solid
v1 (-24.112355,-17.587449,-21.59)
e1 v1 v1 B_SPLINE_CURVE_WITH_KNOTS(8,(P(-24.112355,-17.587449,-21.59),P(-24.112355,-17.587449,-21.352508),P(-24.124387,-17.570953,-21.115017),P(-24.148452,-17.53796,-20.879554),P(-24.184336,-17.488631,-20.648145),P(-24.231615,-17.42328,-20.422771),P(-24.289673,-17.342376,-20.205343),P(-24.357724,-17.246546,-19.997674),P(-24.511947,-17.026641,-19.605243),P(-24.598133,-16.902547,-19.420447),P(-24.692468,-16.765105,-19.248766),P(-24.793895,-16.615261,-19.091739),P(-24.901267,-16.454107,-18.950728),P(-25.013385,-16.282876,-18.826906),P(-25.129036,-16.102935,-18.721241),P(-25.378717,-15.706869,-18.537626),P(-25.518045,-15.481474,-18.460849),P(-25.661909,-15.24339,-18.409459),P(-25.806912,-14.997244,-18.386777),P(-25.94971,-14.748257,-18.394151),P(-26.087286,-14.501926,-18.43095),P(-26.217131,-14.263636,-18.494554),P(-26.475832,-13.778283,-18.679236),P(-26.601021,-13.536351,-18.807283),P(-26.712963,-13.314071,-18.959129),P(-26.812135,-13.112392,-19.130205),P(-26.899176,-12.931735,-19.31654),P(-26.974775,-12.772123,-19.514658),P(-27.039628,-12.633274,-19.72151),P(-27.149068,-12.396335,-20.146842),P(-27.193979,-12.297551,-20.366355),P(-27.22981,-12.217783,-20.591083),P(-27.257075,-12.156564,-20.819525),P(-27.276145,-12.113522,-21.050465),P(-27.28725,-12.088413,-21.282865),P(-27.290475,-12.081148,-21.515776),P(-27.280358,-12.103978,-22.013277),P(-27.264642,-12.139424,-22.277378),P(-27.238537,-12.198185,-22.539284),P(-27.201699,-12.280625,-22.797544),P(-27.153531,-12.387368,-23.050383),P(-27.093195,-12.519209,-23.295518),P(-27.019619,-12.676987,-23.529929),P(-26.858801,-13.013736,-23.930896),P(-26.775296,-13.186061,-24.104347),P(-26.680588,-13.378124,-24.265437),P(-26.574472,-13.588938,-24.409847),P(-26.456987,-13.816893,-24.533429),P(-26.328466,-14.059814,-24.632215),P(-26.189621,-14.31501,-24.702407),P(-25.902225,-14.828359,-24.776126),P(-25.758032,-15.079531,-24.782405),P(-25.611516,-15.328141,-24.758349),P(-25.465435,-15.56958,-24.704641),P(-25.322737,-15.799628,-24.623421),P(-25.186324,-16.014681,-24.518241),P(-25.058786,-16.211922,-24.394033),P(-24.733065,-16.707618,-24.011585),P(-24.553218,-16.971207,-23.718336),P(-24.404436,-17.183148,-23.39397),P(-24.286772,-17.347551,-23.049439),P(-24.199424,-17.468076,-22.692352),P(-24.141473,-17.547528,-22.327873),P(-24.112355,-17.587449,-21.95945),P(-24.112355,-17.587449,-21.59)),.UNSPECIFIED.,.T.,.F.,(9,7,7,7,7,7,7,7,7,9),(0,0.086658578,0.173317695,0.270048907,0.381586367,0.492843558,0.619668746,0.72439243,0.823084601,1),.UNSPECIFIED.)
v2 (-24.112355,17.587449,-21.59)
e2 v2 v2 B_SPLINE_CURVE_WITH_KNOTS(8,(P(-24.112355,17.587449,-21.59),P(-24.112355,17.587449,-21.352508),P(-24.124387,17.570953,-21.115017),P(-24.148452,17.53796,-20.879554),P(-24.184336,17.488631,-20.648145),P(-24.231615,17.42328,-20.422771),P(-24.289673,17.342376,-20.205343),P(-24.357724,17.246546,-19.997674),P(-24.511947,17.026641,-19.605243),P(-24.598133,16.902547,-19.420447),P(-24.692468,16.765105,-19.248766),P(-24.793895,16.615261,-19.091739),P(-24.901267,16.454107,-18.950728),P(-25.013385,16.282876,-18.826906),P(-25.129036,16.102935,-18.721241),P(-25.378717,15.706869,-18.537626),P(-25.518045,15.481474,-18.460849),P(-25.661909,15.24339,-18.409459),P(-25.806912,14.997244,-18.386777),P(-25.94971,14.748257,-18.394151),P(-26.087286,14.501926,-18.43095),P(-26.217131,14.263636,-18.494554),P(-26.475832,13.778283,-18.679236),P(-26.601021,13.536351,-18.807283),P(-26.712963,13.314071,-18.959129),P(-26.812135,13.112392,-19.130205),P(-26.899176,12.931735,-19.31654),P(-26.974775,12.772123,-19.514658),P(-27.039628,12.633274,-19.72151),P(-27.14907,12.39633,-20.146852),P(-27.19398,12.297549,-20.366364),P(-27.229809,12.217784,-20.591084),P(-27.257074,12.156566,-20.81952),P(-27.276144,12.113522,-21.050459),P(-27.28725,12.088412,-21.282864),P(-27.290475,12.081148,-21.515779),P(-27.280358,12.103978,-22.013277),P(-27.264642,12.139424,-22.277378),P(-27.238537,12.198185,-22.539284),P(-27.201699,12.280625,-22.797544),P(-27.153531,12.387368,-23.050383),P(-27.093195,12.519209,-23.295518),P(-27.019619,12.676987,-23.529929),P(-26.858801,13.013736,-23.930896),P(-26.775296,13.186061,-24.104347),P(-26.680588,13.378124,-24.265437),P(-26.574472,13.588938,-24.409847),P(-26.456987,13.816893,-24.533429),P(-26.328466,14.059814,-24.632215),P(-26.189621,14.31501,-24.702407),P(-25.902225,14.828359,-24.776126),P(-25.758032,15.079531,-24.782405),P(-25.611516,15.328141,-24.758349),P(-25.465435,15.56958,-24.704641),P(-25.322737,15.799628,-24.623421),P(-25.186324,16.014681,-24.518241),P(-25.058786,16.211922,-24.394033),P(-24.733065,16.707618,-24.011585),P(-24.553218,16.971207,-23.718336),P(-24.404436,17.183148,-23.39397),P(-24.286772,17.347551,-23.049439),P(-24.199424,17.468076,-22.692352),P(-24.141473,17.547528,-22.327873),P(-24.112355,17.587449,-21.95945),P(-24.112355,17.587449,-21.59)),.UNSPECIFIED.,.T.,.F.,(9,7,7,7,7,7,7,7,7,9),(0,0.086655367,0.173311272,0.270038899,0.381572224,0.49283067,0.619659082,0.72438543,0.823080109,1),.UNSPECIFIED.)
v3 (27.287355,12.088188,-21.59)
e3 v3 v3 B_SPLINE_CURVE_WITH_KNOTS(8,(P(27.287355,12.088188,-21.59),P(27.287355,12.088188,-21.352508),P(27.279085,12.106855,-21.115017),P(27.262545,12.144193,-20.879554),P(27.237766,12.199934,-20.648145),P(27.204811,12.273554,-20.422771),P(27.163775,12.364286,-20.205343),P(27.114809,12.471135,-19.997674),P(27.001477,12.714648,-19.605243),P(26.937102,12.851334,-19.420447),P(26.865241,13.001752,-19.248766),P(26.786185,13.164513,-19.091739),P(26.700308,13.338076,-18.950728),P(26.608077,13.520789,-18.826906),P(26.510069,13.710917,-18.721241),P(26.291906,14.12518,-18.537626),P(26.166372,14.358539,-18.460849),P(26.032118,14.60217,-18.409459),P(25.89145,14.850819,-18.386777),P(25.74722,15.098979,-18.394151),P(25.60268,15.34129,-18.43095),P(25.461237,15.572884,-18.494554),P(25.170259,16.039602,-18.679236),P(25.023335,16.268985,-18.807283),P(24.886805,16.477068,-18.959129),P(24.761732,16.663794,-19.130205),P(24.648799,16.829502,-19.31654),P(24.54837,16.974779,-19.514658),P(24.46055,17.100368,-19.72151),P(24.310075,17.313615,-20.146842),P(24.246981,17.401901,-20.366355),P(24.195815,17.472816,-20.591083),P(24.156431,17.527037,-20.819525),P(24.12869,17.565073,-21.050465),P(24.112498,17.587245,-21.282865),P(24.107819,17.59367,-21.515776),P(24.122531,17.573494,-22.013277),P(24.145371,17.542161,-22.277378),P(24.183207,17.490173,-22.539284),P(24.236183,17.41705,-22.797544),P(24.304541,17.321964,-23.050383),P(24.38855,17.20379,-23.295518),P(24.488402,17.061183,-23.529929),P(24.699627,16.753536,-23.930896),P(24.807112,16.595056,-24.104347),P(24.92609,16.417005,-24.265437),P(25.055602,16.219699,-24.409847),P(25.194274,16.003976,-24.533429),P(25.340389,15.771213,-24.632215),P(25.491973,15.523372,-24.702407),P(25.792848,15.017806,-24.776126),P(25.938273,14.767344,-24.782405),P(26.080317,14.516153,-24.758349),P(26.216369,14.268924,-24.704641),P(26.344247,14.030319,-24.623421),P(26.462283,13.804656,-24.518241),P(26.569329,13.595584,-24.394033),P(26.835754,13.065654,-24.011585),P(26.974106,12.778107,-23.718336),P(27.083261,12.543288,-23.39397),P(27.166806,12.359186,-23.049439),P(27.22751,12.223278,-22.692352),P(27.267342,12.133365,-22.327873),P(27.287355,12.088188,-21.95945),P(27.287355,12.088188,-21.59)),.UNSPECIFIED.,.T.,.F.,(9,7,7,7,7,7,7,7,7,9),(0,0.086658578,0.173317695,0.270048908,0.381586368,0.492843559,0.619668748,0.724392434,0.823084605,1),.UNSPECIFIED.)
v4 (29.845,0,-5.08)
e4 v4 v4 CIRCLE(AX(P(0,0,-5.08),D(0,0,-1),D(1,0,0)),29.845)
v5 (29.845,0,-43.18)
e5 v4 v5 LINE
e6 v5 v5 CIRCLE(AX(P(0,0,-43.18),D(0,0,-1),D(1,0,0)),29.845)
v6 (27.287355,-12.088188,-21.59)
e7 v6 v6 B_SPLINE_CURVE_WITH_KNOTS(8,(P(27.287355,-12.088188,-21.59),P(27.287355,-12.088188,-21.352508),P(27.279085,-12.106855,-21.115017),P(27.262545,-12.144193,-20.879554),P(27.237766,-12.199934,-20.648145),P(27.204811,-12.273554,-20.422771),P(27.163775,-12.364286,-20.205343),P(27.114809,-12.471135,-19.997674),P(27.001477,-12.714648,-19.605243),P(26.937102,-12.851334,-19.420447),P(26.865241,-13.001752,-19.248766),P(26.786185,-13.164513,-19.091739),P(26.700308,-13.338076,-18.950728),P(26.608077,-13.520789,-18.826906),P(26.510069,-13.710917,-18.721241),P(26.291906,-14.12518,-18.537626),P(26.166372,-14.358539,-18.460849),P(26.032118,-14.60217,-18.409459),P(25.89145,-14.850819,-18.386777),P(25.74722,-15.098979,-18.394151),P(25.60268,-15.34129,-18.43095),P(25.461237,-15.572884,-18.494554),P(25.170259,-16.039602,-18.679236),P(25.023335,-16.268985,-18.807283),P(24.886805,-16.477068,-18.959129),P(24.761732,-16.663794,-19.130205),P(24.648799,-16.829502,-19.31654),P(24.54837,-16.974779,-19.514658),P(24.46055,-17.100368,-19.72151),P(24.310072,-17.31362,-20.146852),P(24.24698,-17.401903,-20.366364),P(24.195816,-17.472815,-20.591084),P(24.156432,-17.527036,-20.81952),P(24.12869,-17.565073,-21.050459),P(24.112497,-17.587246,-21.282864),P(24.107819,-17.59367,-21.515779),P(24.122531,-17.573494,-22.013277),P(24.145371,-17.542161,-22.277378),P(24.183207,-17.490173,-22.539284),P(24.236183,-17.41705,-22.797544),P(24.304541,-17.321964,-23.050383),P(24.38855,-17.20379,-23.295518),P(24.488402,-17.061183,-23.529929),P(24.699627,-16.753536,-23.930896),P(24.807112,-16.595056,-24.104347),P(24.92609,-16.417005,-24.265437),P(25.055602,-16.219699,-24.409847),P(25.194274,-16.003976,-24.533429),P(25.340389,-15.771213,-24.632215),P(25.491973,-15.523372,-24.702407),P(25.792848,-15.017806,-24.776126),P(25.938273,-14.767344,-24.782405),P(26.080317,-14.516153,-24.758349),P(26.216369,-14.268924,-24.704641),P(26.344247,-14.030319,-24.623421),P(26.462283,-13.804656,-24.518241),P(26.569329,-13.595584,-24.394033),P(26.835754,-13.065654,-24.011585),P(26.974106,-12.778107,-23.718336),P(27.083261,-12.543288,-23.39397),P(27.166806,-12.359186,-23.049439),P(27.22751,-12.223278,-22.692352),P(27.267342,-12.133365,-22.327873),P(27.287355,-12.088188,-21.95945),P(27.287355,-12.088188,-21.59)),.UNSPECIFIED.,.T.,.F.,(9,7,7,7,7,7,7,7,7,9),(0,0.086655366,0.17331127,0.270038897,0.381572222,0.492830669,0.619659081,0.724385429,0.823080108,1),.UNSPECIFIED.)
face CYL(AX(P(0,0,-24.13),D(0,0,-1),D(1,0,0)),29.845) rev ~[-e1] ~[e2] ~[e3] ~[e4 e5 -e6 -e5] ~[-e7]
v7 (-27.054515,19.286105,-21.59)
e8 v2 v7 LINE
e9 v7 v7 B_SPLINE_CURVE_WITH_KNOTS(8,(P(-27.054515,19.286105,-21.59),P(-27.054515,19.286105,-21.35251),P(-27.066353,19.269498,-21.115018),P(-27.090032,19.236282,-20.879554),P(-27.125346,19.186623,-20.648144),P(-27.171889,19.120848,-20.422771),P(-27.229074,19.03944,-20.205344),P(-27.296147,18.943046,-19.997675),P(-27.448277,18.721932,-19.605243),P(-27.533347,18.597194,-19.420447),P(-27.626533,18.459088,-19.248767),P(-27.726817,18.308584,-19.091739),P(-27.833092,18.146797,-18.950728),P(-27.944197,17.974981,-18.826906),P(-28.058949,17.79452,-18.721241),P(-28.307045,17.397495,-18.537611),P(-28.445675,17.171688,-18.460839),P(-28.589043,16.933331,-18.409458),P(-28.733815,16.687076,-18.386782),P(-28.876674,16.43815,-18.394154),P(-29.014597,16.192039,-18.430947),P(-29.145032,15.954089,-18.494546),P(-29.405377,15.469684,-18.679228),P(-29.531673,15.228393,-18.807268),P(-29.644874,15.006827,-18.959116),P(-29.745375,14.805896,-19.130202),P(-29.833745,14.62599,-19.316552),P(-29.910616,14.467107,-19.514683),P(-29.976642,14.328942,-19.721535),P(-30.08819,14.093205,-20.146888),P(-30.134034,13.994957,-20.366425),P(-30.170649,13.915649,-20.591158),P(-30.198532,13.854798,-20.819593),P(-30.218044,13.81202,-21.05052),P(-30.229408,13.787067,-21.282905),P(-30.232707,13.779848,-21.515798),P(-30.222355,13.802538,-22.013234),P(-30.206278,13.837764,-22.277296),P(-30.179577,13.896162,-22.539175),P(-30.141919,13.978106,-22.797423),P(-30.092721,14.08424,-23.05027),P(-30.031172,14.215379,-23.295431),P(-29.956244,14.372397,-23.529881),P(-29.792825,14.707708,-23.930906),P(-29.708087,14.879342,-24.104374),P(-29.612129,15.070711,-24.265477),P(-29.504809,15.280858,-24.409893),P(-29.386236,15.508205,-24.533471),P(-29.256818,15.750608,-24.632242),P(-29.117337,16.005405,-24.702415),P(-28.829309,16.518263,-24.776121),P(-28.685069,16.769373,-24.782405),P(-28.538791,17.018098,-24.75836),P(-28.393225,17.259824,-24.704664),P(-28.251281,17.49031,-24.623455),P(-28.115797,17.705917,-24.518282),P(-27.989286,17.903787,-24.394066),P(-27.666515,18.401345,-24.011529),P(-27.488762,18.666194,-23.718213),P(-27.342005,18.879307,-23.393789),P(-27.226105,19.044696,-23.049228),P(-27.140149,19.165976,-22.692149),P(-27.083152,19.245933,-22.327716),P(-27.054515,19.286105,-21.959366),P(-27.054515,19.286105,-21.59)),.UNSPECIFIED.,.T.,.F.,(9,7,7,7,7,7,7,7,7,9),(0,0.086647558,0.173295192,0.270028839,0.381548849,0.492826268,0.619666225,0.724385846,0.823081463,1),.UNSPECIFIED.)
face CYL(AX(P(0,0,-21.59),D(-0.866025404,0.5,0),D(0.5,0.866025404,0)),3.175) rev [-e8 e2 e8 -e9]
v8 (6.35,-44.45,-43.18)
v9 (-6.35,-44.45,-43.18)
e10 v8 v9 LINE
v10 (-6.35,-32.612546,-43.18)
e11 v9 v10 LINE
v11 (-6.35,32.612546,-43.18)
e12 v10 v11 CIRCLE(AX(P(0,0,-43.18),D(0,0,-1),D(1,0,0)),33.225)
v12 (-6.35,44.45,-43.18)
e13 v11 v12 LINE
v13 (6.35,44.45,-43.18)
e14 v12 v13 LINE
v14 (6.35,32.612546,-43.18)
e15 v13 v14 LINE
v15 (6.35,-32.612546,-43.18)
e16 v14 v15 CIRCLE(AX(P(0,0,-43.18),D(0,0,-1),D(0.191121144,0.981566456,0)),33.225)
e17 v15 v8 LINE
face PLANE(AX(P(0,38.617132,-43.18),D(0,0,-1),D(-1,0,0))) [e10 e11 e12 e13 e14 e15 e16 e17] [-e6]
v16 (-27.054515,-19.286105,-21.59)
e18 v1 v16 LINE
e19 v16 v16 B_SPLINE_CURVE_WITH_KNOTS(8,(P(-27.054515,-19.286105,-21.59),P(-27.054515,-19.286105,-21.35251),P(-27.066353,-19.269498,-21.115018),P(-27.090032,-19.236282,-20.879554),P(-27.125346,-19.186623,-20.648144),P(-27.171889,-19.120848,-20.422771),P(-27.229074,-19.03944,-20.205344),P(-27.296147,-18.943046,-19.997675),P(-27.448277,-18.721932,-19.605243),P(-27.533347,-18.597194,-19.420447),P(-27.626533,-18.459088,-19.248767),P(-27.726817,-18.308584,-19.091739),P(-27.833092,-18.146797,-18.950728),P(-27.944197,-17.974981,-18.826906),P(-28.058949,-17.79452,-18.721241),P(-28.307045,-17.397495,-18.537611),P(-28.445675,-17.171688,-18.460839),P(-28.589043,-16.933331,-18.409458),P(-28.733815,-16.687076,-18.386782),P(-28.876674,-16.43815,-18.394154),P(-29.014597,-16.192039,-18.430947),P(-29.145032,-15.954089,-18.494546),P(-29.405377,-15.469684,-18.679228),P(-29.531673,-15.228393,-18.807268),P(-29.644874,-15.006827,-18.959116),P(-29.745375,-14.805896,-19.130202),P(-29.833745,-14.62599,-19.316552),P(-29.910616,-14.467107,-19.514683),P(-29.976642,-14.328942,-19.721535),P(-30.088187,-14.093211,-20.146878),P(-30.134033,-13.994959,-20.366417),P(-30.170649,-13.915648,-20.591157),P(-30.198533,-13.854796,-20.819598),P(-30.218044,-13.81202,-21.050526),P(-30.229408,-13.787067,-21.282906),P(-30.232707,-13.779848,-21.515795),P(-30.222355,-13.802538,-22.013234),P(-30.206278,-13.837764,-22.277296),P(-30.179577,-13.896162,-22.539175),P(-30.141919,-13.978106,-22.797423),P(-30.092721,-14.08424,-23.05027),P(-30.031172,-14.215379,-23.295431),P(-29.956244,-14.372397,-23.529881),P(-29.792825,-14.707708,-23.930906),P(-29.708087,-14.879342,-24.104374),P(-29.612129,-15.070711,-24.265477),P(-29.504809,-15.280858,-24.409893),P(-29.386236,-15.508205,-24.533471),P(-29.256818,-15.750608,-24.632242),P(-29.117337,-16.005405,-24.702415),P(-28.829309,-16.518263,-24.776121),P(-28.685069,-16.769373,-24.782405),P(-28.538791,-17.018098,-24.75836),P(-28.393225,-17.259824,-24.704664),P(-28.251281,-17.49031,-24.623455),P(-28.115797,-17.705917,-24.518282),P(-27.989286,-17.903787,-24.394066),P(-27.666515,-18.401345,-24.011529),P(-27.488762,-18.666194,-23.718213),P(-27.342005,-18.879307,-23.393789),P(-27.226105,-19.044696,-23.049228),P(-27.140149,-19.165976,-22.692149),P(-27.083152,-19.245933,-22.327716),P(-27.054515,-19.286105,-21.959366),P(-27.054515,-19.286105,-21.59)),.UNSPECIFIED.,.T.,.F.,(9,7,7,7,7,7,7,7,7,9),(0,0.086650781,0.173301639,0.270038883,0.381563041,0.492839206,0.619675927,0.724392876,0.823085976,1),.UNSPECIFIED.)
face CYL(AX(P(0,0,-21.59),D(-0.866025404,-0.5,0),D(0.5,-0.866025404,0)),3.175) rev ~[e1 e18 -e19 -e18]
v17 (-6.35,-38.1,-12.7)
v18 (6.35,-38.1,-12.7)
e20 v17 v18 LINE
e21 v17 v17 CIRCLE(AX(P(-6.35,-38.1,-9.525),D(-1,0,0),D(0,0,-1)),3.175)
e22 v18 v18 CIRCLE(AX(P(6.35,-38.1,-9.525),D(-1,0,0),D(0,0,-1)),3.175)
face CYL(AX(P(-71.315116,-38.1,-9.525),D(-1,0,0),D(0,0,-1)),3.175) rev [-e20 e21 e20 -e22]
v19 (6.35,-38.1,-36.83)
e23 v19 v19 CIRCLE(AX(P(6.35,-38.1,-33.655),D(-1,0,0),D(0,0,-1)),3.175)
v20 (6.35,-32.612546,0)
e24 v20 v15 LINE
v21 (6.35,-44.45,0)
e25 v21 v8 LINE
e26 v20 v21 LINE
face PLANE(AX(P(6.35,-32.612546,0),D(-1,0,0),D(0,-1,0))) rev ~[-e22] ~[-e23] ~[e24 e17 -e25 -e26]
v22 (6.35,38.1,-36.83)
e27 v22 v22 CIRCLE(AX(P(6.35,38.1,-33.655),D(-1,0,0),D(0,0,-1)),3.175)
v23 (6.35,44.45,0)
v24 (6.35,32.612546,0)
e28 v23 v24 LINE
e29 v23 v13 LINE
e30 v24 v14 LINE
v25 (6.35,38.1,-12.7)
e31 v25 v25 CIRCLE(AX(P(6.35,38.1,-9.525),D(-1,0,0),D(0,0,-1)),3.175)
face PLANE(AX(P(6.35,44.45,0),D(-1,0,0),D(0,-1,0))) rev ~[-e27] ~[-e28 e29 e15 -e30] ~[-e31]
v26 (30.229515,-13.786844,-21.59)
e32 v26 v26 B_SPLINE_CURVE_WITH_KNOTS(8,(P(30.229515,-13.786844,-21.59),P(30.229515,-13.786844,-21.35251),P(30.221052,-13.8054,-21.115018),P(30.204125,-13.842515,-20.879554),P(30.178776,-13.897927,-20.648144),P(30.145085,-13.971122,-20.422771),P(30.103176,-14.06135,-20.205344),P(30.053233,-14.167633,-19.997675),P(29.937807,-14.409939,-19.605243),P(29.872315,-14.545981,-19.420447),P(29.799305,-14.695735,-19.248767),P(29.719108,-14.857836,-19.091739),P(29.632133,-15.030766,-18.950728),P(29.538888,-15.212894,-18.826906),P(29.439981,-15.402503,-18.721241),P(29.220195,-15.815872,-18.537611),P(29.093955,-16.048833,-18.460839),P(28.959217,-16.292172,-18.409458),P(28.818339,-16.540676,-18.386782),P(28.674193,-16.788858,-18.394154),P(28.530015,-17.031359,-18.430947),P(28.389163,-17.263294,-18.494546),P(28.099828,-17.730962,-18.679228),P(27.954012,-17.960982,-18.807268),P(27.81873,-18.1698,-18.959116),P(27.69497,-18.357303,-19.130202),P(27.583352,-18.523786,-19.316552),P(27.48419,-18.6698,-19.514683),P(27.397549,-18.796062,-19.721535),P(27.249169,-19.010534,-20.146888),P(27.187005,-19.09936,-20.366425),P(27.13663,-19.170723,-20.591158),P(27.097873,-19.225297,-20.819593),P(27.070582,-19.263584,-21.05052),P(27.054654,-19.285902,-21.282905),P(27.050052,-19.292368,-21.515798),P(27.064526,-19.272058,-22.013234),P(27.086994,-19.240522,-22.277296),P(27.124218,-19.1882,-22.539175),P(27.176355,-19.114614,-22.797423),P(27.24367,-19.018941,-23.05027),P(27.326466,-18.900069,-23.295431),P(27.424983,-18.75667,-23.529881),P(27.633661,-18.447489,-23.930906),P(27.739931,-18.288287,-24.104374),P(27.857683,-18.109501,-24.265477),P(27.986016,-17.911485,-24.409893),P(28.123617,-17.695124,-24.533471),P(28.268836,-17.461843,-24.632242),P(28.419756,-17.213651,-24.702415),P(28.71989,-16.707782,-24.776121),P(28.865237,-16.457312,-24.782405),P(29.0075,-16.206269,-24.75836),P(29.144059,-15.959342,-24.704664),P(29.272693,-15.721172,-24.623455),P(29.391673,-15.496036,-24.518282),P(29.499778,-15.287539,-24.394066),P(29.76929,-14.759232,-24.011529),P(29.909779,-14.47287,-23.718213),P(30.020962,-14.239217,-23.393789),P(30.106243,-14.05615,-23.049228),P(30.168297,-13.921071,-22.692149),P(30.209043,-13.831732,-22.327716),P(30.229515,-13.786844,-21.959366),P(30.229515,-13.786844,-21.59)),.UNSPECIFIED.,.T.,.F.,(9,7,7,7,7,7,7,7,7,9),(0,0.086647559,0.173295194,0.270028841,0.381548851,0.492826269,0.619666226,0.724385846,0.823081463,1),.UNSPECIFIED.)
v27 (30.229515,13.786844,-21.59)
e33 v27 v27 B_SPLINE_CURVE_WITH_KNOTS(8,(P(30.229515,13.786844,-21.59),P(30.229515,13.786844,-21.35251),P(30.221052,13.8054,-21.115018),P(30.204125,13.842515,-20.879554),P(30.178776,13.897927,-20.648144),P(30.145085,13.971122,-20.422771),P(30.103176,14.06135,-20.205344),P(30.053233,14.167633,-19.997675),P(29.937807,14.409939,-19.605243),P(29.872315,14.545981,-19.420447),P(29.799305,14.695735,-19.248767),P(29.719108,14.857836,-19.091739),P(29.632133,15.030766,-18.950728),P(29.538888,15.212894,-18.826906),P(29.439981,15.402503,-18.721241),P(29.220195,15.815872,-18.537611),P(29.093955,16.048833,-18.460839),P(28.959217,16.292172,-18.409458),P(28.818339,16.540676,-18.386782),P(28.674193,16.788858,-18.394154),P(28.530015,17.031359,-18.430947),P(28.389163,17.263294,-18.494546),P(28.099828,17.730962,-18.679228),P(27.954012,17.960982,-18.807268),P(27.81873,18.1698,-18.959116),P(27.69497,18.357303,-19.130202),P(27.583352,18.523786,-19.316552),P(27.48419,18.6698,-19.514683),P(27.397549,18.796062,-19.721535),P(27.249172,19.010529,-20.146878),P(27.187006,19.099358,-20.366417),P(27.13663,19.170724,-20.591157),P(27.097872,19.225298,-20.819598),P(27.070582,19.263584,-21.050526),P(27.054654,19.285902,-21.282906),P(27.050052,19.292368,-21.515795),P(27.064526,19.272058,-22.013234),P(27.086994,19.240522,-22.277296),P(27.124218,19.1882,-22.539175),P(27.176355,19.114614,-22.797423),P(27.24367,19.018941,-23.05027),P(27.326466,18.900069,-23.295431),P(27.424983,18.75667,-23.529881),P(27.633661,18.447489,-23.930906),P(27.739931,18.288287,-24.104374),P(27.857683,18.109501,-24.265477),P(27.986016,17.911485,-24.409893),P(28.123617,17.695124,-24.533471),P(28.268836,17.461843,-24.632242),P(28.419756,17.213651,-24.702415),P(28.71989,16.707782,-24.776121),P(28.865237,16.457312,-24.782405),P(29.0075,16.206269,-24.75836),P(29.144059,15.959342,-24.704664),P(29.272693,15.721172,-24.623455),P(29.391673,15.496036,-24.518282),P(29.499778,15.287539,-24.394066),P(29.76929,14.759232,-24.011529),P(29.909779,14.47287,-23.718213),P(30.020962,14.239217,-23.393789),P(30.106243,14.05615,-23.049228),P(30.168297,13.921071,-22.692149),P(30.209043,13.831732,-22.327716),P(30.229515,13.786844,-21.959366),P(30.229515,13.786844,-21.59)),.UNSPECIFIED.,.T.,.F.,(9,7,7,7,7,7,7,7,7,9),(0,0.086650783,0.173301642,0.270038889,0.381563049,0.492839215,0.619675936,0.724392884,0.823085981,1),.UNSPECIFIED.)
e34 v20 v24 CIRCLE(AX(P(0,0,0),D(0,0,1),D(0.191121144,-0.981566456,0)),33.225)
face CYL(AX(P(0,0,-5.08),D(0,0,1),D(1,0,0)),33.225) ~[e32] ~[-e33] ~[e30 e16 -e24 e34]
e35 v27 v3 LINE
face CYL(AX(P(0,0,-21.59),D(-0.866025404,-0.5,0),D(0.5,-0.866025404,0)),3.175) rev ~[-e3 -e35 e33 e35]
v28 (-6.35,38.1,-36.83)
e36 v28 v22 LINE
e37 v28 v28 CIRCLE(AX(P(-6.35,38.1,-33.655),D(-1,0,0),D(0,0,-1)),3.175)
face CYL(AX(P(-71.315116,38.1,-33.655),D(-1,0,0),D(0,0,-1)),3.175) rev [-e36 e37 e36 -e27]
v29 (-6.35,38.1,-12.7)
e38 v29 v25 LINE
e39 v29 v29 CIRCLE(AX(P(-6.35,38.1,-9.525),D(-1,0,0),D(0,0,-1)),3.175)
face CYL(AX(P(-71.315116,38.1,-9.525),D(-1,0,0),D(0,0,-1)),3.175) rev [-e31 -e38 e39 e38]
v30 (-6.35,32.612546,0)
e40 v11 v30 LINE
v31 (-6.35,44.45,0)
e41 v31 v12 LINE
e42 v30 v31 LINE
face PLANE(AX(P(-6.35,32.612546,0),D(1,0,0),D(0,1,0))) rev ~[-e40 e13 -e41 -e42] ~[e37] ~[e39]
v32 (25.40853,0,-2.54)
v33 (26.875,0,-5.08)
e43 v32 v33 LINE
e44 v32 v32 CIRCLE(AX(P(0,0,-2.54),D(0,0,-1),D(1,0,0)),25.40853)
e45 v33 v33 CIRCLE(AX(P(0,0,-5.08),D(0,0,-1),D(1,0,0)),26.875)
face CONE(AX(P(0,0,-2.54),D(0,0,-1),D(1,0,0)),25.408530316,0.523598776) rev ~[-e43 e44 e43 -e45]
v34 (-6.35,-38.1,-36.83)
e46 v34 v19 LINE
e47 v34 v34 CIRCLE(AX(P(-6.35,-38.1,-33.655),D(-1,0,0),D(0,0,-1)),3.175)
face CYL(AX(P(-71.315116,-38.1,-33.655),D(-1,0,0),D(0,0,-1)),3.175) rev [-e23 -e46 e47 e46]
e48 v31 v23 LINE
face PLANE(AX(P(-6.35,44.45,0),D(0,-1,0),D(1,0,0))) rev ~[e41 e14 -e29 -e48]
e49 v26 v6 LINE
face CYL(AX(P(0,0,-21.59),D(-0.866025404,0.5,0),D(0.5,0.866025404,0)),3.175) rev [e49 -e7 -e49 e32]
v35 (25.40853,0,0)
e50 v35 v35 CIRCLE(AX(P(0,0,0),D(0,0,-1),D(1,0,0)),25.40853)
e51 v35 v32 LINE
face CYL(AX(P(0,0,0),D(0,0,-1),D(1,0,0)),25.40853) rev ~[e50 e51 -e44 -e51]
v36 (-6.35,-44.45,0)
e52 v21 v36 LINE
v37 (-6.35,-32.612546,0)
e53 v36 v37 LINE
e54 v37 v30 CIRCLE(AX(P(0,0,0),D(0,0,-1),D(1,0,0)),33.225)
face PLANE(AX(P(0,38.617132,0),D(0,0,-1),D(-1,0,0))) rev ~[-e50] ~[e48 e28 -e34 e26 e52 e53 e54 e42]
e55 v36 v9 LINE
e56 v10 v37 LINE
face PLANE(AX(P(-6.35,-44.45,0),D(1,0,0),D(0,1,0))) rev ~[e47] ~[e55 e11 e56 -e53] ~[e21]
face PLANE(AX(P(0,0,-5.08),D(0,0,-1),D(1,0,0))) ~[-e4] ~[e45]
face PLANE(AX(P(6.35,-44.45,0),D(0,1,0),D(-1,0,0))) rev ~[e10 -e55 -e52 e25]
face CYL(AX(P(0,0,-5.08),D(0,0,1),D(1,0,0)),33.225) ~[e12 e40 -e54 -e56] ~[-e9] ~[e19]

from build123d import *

# Parameters (mm, degrees)
SKETCH8_W               = 3.38
SKETCH8_H               = 38.1
BOSS_EXTRUDE10_DEPTH    = 43.18
CUT_EXTRUDE7_DEPTH      = 71.315115907
CUT_EXTRUDE7_DEPTH_BACK = 71.315115907
SKETCH18_R              = 3.175
SKETCH23_R              = 3.175
CUT_EXTRUDE9_DEPTH      = 71.315115907


with BuildPart() as part:
    # Sketch2 → Revolve1 (revolve)
    with BuildSketch(Plane(origin=(0, 0, 0), x_dir=(1, 0, 0), z_dir=(0, 1, 0))):
        Polygon((25.408530316, 0), (25.408530316, 2.54), (26.875, 5.08), (33.225, 5.08), (33.225, 0), align=None)
    revolve(axis=Axis((0, 0, 0), (0, 0, -1)))

    # Sketch8 → Revolve2 (revolve)
    with BuildSketch(Plane(origin=(0, 0, 0), x_dir=(1, 0, 0), z_dir=(0, 1, 0)), mode=Mode.PRIVATE) as revolve2_sk:
        with Locations((-31.535, 24.13)):
            Rectangle(SKETCH8_W, SKETCH8_H)
    revolve(revolve2_sk.sketch.rotate(Axis((0, 0, 0), (0, 0, -1)), 180), axis=Axis((0, 0, 0), (0, 0, -1)))

    # Sketch19 → Boss-Extrude10 (add)
    with BuildSketch(Plane.XY):
        with BuildLine():
            Line((-6.35, 32.612545515), (-6.35, 44.45))
            Line((-6.35, 44.45), (6.35, 44.45))
            Line((6.35, 44.45), (6.35, 32.612545515))
            ThreePointArc((6.35, 32.612545515), (0, 33.225), (-6.35, 32.612545515))
        make_face()
        with BuildLine():
            Line((6.35, -44.45), (-6.35, -44.45))
            Line((-6.35, -44.45), (-6.35, -32.612545515))
            ThreePointArc((-6.35, -32.612545515), (0, -33.225), (6.35, -32.612545515))
            Line((6.35, -32.612545515), (6.35, -44.45))
        make_face()
    extrude(amount=-BOSS_EXTRUDE10_DEPTH)

    # Sketch18 → Cut-Extrude7 (cut, two sides: drawn at the far end of the back side and taken through both)
    with BuildSketch(Plane(origin=(0, 0, 0), x_dir=(0, 0, -1), z_dir=(1, 0, 0)).offset(-CUT_EXTRUDE7_DEPTH_BACK)):
        with Locations((9.525, 38.1)):
            Circle(SKETCH18_R)
        with Locations((33.655, 38.1)):
            Circle(SKETCH18_R)
        with Locations((9.525, -38.1)):
            Circle(SKETCH18_R)
        with Locations((33.655, -38.1)):
            Circle(SKETCH18_R)
    extrude(amount=CUT_EXTRUDE7_DEPTH + CUT_EXTRUDE7_DEPTH_BACK, mode=Mode.SUBTRACT)

    # Sketch23 → Cut-Extrude9 (cut, symmetric)
    with BuildSketch(Plane(origin=(0, 0, 0), x_dir=(-0.5000000000000014, 0.8660254037844378, 0), z_dir=(-0.8660254037844378, -0.5000000000000014, 0))):
        with Locations(Location((0, 21.59, 0), (0, 0, 180))):
            Circle(SKETCH23_R)
    cut_extrude9 = extrude(amount=CUT_EXTRUDE9_DEPTH, both=True, mode=Mode.SUBTRACT)

    # Mirror3: Cut-Extrude9 across plane
    add(cut_extrude9.mirror(Plane.ZX), mode=Mode.SUBTRACT)


solid = part.part
